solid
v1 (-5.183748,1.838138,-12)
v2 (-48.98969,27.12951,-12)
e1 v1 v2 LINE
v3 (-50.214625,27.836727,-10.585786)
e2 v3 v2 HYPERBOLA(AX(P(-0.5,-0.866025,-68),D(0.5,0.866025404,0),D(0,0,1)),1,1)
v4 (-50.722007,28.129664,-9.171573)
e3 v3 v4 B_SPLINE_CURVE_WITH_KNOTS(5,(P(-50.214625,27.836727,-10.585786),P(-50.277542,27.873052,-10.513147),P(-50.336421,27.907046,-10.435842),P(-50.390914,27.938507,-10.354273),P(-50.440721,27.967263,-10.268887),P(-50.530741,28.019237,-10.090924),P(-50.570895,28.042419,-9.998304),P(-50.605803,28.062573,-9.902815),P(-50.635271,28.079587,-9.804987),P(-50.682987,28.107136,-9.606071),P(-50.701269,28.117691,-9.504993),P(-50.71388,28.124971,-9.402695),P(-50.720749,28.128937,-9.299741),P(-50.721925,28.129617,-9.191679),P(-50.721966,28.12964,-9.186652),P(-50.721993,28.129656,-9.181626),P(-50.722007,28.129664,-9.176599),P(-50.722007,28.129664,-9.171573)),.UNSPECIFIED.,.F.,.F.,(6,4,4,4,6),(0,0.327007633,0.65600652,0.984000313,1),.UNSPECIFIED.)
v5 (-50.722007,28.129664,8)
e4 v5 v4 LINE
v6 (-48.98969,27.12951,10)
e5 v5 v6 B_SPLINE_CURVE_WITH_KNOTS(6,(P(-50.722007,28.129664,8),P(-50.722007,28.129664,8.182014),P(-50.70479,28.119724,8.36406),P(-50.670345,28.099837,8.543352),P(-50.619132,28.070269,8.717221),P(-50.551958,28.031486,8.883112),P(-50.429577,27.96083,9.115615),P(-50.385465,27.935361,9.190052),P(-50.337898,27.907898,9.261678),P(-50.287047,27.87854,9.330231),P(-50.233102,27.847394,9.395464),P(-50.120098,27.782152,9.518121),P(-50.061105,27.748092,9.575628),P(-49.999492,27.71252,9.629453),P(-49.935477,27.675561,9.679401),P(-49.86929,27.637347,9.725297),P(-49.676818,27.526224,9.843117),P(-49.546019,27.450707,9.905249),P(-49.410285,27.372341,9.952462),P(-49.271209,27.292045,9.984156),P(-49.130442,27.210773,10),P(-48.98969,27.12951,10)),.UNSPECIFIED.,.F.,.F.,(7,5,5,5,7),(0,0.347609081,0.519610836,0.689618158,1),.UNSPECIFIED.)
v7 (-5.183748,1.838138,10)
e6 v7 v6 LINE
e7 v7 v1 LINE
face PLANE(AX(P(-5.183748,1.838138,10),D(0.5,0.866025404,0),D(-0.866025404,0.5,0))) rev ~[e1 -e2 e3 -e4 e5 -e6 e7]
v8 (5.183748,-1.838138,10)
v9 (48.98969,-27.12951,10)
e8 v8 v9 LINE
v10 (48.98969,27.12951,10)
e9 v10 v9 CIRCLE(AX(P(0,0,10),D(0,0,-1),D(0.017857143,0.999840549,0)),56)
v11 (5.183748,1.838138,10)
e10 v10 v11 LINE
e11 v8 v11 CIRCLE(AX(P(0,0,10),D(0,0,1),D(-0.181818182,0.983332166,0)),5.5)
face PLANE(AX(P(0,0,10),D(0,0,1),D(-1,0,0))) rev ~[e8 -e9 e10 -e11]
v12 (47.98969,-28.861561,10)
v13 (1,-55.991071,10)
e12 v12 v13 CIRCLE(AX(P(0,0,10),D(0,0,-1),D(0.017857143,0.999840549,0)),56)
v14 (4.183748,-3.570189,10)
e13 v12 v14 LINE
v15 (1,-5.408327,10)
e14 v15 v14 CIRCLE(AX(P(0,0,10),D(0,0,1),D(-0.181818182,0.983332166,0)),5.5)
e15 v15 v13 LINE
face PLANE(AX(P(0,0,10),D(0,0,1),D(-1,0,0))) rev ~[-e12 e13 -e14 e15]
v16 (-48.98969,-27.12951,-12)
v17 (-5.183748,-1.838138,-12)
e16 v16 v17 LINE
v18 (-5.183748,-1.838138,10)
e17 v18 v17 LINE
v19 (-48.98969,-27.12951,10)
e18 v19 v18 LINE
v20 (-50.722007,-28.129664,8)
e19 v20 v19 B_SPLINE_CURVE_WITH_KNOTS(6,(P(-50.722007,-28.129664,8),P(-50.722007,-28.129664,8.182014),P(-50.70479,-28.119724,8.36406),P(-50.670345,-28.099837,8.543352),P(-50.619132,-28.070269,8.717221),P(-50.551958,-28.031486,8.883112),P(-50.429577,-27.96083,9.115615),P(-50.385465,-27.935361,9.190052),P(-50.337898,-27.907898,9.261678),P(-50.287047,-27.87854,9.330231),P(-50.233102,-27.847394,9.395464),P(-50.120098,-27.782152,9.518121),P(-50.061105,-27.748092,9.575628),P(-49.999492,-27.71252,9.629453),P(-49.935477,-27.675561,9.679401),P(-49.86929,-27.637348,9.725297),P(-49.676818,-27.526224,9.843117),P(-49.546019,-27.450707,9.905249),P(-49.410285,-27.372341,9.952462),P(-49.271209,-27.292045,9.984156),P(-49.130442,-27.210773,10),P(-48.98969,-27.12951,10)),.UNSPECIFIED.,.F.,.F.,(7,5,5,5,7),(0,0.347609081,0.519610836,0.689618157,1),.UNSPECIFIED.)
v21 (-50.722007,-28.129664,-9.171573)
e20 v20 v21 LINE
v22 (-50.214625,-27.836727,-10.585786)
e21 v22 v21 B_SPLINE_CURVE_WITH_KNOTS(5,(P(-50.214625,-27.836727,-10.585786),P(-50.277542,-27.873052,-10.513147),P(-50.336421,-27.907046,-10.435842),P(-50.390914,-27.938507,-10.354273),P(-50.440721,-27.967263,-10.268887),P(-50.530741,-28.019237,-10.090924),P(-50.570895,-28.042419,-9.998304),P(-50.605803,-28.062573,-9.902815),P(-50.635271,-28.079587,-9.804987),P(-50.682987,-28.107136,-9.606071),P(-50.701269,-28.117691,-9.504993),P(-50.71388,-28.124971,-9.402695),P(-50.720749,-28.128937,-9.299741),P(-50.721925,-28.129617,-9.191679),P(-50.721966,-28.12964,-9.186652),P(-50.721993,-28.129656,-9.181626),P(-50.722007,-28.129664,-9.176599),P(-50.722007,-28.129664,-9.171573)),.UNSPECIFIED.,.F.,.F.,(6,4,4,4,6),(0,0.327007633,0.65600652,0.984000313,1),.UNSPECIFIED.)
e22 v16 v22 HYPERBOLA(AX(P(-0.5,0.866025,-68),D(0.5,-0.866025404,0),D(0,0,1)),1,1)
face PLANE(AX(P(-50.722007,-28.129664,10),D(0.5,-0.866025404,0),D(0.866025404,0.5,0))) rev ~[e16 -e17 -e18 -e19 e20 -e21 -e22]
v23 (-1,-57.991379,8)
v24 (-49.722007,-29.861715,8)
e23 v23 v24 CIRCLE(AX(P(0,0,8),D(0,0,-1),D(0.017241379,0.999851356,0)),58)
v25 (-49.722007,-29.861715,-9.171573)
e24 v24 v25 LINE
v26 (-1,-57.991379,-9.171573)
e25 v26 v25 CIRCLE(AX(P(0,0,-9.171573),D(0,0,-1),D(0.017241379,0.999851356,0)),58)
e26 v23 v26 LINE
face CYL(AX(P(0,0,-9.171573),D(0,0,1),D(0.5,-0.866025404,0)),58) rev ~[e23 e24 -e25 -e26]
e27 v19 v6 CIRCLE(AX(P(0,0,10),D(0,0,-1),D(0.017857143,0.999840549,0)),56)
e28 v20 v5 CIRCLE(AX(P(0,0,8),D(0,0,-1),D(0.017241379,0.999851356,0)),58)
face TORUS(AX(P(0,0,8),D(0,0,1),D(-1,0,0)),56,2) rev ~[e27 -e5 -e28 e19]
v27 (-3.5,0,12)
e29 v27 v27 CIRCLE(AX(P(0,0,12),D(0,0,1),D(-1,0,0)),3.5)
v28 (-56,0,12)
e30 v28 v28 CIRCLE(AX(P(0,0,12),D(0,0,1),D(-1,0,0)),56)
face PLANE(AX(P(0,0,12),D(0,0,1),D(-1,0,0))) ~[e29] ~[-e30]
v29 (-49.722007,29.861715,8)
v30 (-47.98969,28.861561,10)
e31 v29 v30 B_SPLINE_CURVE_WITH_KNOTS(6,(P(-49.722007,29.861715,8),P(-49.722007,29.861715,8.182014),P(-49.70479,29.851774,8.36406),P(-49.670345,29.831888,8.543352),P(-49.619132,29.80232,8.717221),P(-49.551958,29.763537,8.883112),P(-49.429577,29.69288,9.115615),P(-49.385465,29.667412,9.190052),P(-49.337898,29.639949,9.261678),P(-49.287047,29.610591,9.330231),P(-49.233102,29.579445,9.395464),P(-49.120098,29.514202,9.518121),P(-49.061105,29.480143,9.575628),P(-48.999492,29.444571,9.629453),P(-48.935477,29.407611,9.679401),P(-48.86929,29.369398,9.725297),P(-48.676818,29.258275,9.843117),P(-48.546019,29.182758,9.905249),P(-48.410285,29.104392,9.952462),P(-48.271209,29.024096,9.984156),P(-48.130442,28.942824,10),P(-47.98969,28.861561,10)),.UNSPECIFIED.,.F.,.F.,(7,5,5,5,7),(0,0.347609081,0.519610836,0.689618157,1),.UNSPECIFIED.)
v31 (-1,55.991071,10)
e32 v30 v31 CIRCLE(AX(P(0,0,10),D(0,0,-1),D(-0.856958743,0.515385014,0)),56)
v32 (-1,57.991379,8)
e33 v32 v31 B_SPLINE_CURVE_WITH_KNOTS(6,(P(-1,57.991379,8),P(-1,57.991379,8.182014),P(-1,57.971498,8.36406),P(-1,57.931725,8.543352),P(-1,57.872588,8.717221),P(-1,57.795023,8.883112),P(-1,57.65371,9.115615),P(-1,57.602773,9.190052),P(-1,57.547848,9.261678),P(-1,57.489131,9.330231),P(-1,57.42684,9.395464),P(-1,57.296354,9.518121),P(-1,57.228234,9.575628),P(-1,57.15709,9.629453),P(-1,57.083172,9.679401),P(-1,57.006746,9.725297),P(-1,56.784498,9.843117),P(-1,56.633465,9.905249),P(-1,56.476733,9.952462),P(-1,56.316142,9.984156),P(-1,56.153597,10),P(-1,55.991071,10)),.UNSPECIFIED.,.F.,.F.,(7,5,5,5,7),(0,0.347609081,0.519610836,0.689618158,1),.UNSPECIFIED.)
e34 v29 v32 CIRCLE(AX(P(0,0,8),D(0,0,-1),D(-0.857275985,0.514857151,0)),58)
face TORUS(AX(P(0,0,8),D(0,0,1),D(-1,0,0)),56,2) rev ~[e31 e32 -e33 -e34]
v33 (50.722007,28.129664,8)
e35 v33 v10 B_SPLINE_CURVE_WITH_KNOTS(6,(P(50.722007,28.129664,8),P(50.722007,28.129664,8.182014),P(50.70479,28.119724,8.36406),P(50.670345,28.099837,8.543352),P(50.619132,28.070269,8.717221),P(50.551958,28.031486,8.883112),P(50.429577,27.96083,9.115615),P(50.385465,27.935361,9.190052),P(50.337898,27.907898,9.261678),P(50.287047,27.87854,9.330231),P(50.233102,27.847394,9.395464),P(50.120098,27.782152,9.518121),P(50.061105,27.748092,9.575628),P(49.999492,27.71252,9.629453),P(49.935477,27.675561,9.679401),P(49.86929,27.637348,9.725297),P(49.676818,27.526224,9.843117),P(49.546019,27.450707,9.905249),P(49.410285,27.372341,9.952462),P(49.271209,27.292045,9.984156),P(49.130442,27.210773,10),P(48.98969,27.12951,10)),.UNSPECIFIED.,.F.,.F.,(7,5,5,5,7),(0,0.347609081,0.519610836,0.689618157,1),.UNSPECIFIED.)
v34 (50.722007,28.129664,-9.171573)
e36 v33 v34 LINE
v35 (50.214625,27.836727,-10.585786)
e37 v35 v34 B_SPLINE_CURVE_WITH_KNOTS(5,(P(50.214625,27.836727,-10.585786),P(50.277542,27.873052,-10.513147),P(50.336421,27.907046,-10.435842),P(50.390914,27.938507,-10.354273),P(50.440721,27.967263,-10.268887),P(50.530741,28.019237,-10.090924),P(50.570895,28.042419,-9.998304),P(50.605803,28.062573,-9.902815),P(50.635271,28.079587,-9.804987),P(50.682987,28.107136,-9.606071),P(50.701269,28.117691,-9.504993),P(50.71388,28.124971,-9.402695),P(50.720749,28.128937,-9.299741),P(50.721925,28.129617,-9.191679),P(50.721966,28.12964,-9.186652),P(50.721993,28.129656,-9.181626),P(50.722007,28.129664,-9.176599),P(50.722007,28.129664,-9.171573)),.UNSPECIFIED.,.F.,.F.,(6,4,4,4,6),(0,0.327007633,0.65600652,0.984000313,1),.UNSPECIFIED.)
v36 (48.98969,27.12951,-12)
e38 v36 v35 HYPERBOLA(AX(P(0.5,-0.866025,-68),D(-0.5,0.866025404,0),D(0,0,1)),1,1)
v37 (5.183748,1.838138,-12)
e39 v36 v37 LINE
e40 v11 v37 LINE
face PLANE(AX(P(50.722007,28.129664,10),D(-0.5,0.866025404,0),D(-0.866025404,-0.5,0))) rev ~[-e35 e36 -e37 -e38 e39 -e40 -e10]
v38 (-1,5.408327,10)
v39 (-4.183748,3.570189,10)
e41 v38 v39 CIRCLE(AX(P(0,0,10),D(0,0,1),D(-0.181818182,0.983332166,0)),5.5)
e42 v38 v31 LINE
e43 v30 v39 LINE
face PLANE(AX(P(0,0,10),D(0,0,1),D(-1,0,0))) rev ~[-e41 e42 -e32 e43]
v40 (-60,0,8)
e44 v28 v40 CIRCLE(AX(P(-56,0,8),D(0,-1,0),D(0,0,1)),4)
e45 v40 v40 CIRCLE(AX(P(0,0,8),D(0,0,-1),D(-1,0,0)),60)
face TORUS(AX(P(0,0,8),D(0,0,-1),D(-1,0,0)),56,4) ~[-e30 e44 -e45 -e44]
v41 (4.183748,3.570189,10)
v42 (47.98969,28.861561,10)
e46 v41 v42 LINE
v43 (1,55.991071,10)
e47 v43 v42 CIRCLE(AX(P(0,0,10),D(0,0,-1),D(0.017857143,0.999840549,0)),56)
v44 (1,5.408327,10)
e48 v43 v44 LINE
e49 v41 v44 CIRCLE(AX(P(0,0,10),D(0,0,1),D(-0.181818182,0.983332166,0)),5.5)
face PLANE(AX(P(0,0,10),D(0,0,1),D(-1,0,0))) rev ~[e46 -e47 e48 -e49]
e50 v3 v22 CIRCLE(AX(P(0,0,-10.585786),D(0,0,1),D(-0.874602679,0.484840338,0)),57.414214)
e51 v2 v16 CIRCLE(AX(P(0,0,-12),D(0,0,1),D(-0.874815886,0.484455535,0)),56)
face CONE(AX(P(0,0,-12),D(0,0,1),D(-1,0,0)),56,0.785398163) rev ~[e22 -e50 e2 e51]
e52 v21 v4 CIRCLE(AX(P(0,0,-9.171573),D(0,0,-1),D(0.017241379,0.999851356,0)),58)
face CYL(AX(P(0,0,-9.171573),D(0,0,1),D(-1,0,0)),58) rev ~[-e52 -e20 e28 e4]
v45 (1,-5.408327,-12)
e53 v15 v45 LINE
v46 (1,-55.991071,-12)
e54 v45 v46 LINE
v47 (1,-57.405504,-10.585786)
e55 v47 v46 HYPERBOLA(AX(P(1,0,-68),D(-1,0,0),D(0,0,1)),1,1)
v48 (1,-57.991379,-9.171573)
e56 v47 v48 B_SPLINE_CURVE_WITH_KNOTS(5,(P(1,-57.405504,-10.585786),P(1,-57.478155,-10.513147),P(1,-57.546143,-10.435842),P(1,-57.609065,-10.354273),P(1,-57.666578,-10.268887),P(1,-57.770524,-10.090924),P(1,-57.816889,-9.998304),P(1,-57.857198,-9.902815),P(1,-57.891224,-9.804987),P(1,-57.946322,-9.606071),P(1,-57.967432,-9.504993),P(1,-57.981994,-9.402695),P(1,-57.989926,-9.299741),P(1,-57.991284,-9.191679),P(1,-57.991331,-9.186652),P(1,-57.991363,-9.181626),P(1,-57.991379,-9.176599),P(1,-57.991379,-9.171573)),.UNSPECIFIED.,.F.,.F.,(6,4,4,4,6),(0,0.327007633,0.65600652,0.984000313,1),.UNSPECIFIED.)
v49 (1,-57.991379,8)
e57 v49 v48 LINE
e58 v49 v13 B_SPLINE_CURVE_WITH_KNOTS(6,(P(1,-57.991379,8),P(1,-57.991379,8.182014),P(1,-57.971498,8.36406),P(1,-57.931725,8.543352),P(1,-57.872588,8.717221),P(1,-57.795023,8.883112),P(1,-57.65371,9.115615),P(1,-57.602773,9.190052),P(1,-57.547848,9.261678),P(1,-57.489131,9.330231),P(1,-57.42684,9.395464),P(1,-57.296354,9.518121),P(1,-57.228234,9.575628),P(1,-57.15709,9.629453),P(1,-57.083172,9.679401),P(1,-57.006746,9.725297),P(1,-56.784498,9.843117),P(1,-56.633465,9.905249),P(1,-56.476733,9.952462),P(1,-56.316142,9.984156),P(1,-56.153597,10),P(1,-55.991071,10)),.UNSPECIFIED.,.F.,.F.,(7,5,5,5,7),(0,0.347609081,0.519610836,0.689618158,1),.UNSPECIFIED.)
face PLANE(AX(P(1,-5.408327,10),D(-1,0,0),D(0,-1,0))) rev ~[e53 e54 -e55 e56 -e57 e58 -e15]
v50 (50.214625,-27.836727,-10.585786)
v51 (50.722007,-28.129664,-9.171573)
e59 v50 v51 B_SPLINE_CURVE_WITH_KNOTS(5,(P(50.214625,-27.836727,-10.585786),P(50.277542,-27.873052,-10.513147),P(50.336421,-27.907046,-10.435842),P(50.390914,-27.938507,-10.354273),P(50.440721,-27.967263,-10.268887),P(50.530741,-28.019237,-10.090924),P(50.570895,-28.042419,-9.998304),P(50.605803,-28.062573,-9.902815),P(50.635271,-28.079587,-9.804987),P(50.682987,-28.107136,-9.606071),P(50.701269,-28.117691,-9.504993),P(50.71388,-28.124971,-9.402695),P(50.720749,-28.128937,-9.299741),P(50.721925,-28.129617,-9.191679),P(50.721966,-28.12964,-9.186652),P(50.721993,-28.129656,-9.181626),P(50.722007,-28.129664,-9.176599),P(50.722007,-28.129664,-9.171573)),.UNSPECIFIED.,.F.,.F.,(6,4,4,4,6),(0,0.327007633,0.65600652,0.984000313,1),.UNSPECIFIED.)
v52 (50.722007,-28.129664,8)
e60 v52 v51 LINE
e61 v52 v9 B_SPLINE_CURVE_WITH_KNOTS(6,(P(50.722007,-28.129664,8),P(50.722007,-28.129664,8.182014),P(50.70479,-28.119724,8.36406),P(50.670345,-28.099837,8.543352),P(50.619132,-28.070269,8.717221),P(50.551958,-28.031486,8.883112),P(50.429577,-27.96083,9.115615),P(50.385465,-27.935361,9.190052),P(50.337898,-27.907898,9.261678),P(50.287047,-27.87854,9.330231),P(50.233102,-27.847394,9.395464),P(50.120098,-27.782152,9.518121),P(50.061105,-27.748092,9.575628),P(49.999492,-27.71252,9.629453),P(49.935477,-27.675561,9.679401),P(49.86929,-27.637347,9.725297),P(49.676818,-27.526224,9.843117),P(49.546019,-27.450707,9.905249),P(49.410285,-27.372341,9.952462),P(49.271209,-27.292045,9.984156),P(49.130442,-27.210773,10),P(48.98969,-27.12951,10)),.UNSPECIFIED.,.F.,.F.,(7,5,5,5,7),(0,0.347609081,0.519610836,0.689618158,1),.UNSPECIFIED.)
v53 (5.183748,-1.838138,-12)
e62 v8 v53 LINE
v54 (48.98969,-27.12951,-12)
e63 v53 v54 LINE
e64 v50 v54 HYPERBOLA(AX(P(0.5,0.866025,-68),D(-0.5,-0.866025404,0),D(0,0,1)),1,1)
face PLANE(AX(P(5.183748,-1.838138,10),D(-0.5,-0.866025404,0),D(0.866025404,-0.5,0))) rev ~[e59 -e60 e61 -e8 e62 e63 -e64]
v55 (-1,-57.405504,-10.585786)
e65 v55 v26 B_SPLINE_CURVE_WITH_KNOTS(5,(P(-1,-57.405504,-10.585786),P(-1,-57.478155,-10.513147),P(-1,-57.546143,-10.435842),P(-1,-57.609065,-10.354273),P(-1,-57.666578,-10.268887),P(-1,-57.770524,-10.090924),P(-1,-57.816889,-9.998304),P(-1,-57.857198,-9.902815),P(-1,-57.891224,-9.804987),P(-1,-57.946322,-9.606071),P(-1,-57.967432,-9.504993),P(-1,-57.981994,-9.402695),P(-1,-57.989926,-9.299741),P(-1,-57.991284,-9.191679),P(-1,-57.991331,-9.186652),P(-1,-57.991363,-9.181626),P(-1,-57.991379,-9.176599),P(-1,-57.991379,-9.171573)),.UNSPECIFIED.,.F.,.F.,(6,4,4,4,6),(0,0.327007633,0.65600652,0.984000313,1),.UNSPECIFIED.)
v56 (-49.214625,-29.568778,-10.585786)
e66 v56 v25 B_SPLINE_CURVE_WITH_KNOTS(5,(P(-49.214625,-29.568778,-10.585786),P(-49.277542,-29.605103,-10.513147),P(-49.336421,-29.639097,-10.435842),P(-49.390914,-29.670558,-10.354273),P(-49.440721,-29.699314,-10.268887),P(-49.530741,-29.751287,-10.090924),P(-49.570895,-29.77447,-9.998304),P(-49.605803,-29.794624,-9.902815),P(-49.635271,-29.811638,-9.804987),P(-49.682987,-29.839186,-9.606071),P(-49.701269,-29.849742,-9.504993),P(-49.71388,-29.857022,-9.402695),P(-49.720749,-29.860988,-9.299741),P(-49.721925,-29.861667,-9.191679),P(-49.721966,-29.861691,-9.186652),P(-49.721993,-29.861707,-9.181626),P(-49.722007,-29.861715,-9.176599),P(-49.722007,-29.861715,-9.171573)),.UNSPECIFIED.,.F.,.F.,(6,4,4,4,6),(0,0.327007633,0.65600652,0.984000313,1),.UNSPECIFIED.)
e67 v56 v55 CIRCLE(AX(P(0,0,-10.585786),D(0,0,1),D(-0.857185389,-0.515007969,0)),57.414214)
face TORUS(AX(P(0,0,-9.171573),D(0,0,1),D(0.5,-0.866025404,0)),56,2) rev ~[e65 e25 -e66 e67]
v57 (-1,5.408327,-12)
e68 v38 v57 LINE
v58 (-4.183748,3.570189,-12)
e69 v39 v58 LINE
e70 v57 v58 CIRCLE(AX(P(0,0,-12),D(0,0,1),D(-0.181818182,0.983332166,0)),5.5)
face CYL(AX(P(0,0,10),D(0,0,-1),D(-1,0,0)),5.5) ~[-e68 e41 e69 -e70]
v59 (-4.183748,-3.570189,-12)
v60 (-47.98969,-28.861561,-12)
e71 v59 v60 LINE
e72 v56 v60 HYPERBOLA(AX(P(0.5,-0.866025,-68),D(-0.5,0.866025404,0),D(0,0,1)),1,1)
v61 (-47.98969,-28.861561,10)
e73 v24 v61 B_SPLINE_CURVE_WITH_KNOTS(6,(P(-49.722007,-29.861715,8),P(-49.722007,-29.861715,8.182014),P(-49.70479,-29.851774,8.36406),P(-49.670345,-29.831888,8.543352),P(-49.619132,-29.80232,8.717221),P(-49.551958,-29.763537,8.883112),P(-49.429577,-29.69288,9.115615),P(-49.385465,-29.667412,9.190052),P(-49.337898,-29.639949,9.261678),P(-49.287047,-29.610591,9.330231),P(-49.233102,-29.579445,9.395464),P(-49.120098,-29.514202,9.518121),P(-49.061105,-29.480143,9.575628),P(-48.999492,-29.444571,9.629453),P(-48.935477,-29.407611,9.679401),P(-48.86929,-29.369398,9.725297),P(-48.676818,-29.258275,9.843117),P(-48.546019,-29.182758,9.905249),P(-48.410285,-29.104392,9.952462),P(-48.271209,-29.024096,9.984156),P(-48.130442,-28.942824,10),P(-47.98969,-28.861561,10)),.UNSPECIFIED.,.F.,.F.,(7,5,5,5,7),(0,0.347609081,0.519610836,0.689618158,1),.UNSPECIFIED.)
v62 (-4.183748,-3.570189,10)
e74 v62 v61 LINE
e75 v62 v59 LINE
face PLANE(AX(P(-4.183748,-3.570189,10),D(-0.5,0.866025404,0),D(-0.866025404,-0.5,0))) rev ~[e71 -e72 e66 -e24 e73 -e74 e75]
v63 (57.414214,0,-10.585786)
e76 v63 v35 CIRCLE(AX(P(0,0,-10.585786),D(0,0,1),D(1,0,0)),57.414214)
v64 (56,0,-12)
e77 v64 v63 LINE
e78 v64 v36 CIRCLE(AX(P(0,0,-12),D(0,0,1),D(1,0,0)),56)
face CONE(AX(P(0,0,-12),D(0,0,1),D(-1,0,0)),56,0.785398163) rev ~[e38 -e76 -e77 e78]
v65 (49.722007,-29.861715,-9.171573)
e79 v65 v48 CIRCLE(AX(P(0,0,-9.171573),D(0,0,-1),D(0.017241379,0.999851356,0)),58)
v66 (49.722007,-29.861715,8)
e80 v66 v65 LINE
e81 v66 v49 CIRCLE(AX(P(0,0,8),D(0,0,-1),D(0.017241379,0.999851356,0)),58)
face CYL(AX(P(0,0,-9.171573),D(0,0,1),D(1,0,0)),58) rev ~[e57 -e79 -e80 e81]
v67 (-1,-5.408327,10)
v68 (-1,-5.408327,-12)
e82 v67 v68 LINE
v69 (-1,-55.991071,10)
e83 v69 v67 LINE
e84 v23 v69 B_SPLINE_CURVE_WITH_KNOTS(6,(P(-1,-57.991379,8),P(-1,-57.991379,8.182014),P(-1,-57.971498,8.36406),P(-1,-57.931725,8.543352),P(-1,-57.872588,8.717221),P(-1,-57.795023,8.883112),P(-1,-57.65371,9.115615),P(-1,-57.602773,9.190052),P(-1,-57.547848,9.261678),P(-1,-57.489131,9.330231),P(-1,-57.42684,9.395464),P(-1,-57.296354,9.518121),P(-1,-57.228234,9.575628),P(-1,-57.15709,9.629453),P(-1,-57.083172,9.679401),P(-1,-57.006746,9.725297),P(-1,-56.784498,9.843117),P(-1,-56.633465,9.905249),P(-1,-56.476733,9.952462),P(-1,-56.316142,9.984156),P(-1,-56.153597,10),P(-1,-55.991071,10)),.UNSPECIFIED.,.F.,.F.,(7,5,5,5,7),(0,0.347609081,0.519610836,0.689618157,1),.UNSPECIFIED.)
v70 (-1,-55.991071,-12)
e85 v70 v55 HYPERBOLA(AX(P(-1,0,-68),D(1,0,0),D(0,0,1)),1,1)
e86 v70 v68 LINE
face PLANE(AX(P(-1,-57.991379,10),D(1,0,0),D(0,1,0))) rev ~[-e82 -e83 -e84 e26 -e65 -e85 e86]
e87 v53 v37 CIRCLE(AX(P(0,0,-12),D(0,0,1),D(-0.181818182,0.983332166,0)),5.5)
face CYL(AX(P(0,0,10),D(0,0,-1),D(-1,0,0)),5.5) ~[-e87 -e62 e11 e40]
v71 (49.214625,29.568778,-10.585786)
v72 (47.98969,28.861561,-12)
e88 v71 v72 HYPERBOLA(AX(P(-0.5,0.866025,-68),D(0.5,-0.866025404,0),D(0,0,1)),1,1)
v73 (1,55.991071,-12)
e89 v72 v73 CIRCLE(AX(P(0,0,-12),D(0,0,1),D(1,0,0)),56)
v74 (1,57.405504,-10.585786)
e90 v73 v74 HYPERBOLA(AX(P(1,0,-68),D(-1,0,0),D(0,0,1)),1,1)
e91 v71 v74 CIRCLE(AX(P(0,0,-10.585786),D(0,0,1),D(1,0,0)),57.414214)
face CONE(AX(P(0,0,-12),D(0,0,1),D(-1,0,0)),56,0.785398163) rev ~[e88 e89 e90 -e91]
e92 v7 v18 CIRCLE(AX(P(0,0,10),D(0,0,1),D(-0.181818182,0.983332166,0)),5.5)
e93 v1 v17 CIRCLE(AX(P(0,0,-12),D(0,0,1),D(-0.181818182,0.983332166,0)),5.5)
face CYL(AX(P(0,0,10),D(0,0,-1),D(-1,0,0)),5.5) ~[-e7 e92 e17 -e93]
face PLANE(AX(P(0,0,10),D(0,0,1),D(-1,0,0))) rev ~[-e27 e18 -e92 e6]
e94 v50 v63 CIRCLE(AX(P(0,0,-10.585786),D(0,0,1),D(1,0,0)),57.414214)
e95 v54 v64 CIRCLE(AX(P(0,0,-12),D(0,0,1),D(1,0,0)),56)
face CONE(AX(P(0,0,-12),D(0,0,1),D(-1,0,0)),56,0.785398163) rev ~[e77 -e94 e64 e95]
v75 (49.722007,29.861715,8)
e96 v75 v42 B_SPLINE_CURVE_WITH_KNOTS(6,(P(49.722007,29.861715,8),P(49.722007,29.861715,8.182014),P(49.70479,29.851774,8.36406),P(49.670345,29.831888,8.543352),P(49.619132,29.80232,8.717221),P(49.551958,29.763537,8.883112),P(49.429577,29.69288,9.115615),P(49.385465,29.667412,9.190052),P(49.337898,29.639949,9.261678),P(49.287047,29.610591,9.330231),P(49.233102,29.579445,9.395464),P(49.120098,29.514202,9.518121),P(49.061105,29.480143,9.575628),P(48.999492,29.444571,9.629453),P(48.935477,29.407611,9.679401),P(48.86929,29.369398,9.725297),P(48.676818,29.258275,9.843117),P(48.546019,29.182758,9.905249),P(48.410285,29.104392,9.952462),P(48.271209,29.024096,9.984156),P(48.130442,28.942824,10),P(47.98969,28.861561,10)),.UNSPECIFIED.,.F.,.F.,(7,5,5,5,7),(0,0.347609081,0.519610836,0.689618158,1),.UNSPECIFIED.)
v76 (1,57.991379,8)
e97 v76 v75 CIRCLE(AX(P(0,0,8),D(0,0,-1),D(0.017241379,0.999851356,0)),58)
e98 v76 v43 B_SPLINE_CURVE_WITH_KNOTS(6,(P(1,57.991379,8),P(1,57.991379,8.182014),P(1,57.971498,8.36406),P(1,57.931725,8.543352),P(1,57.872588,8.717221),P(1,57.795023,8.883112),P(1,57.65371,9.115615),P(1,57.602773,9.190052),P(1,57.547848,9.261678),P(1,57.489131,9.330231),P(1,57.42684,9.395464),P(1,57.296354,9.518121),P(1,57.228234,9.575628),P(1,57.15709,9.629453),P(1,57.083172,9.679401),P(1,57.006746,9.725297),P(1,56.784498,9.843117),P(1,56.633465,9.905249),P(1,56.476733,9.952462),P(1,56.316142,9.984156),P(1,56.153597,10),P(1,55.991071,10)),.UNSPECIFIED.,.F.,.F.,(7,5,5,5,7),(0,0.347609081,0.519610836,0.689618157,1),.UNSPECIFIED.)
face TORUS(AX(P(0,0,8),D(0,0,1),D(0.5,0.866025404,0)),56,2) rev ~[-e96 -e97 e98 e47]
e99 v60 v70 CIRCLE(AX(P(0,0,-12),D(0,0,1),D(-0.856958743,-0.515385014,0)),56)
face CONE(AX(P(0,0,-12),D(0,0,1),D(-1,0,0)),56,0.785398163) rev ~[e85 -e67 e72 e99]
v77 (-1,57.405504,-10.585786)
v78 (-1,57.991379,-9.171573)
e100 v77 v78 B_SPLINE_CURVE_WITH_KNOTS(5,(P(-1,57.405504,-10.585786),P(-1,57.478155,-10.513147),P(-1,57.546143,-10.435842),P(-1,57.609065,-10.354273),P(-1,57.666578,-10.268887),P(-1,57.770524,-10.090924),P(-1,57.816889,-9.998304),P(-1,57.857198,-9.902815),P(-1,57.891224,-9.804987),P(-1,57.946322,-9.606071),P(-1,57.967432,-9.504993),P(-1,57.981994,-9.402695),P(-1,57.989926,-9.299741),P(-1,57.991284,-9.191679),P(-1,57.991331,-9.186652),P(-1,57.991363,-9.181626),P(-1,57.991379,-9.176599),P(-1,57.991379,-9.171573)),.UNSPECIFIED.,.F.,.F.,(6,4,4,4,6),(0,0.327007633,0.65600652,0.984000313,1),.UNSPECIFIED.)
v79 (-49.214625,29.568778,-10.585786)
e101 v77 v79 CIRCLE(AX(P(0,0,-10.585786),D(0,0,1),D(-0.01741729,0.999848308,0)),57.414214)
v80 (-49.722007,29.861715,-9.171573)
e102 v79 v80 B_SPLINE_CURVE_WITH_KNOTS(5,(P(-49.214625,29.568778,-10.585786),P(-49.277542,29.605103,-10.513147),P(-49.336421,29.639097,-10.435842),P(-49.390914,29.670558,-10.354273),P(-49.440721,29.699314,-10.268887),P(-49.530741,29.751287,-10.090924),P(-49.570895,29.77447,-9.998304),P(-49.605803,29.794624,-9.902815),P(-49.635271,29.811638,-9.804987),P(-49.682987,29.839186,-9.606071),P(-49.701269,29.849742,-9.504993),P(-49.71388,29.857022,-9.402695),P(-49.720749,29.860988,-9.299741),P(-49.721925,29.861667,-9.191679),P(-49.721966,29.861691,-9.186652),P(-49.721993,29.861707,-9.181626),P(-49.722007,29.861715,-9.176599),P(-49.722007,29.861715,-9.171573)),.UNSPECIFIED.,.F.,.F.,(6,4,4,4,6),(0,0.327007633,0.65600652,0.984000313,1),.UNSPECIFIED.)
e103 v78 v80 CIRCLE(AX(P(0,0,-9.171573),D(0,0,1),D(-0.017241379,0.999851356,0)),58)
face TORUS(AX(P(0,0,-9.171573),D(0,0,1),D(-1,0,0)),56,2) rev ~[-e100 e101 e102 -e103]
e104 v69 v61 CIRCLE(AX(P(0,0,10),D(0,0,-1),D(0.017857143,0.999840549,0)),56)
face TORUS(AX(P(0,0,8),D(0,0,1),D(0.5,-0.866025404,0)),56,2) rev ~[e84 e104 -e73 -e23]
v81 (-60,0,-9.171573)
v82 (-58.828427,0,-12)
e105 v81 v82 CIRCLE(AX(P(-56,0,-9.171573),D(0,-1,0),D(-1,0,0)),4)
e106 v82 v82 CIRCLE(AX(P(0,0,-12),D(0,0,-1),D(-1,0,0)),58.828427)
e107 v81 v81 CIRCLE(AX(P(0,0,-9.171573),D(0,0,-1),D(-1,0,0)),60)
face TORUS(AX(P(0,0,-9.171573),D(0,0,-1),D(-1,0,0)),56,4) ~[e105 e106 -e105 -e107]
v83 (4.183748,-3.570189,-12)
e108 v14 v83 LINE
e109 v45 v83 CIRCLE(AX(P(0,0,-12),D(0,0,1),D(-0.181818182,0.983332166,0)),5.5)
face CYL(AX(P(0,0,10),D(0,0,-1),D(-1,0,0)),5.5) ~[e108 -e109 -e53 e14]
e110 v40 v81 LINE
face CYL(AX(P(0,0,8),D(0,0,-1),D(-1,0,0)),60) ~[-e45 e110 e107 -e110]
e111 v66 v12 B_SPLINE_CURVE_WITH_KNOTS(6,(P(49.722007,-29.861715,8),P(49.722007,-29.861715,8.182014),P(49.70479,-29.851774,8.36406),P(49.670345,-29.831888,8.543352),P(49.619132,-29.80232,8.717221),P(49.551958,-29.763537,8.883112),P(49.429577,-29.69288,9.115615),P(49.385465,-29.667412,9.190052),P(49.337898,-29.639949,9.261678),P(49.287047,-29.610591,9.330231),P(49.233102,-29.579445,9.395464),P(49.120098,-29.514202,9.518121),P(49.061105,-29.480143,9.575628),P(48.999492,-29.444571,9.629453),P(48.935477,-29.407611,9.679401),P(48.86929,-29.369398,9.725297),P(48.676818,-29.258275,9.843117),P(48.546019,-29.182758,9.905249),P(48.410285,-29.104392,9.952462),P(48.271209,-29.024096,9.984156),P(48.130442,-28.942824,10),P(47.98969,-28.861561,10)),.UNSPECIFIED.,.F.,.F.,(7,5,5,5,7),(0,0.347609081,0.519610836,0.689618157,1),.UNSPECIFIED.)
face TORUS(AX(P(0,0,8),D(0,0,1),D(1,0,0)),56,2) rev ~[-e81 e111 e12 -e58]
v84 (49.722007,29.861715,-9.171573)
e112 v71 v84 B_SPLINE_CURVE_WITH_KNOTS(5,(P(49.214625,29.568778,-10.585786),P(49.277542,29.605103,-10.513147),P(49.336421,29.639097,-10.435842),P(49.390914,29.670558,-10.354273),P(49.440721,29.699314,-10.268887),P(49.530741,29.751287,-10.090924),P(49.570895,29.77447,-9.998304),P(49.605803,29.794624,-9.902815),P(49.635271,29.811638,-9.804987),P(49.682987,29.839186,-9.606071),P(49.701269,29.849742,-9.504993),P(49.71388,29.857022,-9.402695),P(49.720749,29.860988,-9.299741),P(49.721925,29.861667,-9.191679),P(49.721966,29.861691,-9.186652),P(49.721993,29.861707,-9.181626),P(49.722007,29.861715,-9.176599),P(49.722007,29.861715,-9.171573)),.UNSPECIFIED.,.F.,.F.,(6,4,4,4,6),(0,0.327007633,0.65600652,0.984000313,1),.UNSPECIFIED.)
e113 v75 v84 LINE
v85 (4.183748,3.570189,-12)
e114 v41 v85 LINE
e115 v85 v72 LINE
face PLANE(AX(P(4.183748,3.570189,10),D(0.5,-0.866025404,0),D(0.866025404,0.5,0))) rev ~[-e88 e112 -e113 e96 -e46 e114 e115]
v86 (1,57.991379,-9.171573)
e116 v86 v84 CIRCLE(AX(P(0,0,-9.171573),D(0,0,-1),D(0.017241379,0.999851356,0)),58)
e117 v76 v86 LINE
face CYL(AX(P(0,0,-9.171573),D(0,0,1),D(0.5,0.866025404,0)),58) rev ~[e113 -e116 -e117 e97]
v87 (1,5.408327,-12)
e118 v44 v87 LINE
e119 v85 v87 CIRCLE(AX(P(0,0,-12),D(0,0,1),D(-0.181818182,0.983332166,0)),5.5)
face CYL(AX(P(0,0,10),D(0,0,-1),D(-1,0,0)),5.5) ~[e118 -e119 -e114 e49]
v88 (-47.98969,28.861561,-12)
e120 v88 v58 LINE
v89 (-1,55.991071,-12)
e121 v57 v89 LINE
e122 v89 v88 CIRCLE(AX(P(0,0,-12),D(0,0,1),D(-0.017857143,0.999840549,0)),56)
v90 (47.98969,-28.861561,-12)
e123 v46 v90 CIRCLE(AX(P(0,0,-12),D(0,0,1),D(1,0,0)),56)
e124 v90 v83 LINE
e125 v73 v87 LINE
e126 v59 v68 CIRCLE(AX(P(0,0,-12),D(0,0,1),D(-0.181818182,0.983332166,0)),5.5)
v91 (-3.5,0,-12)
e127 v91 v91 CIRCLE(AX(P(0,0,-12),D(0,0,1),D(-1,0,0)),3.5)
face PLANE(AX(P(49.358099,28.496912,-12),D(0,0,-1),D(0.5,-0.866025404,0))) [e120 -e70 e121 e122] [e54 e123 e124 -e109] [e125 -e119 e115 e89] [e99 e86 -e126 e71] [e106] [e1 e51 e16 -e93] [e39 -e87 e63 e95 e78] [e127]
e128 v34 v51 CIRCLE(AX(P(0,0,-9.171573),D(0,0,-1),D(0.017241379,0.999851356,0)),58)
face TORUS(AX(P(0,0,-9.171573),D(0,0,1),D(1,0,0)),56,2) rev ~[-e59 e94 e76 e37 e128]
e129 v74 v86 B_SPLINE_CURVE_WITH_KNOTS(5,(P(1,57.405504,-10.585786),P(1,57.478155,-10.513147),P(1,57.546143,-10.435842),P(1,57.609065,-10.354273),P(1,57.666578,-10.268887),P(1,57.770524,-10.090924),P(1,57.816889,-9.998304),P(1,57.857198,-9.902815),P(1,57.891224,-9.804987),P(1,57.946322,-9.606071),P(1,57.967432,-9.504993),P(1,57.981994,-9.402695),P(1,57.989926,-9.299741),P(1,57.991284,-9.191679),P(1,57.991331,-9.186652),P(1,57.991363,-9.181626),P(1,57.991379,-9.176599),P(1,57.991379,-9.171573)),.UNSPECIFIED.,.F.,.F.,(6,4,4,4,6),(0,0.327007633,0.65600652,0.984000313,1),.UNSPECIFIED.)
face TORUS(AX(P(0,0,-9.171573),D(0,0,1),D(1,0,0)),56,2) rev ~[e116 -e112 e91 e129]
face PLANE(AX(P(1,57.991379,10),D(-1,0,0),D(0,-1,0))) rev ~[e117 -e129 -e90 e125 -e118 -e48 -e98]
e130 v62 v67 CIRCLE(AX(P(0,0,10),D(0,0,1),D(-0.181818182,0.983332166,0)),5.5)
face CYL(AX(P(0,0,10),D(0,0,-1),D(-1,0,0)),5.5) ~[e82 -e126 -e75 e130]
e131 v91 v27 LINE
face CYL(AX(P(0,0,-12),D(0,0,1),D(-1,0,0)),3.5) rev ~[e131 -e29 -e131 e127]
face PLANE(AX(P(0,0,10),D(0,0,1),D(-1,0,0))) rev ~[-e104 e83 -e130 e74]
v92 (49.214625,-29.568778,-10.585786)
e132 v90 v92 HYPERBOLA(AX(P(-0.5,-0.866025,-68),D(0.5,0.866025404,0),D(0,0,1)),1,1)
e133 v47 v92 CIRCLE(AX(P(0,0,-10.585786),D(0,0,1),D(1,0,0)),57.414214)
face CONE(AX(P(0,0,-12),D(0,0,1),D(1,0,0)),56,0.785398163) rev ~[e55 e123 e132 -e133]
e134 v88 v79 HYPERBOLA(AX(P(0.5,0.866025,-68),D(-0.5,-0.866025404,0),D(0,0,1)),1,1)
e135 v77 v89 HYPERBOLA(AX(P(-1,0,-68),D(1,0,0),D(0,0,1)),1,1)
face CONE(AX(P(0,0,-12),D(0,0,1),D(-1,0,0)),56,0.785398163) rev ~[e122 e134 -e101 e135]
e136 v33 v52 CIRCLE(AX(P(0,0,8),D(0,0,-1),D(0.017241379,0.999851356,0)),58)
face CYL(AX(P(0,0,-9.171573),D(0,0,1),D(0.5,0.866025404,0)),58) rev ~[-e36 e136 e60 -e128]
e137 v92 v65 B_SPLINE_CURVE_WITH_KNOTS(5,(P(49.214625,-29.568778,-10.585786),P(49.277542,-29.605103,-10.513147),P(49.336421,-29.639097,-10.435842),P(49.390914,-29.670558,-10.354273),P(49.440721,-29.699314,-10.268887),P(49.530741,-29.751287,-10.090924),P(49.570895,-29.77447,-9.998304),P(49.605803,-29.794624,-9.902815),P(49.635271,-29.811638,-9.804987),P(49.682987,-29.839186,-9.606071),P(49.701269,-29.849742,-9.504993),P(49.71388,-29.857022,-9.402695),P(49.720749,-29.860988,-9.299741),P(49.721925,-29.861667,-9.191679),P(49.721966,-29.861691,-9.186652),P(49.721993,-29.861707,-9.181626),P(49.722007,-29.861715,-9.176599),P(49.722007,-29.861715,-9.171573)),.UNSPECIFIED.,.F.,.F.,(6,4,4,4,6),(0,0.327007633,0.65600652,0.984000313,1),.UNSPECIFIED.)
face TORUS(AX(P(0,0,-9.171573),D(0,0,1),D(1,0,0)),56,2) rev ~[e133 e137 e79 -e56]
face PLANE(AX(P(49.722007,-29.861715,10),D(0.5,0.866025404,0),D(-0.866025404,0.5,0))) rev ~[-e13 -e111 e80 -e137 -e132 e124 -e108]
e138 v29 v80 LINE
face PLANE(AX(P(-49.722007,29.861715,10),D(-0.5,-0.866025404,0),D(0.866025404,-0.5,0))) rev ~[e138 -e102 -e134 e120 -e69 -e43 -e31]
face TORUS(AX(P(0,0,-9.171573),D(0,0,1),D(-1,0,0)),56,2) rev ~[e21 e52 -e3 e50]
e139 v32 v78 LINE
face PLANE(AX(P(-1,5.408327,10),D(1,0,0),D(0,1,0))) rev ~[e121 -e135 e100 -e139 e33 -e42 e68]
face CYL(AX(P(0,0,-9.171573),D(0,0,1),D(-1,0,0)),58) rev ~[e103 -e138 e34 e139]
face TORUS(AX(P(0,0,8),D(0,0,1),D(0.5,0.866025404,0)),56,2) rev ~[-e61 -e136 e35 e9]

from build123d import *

# Parameters (mm, degrees)
F3_DEPTH = 22
F4_COUNT = 6


with BuildPart() as f1:
    # F0 (on Front) → F1 (revolve)
    with BuildSketch(Plane.XZ):
        with BuildLine():
            Line((-3.5, 12), (-56, 12))
            ThreePointArc((-56, 12), (-58.8284271247, 10.8284271247), (-60, 8))
            Line((-60, 8), (-60, -9.1715728753))
            ThreePointArc((-60, -9.1715728753), (-59.69551813, -10.7023066047), (-58.8284271247, -12))
            Line((-58.8284271247, -12), (-56, -12))
            Line((-56, -12), (-57.4142135624, -10.5857864376))
            ThreePointArc((-57.4142135624, -10.5857864376), (-57.847759065, -9.93693974), (-58, -9.1715728753))
            Line((-58, -9.1715728753), (-58, 8))
            ThreePointArc((-58, 8), (-57.4142135624, 9.4142135624), (-56, 10))
            Line((-56, 10), (-5.5, 10))
            Line((-5.5, 10), (-5.5, -12))
            Line((-5.5, -12), (-3.5, -12))
            Line((-3.5, -12), (-3.5, 12))
        make_face()
    revolve(axis=Axis((0, 0, 0), (0, 0, 1)))

    # F2 (on face) → F3 (join, through all)
    with BuildSketch(Plane(origin=(0, 0, 10), x_dir=(1, 0, 0), z_dir=(0, 0, -1))):
        with BuildLine():
            ThreePointArc((1, -55.9910707167), (0, -56), (-1, -55.9910707167))
            Line((-1, -55.9910707167), (-1, -57.9913786696))
            ThreePointArc((-1, -57.9913786696), (0, -58), (1, -57.9913786696))
            Line((1, -57.9913786696), (1, -55.9910707167))
        make_face()
        with BuildLine():
            ThreePointArc((1, -5.4083269132), (0, -5.5), (-1, -5.4083269132))
            Line((-1, -5.4083269132), (-1, -55.9910707167))
            ThreePointArc((-1, -55.9910707167), (0, -56), (1, -55.9910707167))
            Line((1, -55.9910707167), (1, -5.4083269132))
        make_face()
    extrude(amount=F3_DEPTH)

    # F4: F1 ×6 about axis
    f4_axis = Axis((0, 0, 0), (0, 0, 1))


with BuildPart() as f1_1:
    add(f1.part)
    for i in range(1, F4_COUNT):
        add(f1.part.rotate(f4_axis, i * 360 / F4_COUNT))


solid = f1_1.part
